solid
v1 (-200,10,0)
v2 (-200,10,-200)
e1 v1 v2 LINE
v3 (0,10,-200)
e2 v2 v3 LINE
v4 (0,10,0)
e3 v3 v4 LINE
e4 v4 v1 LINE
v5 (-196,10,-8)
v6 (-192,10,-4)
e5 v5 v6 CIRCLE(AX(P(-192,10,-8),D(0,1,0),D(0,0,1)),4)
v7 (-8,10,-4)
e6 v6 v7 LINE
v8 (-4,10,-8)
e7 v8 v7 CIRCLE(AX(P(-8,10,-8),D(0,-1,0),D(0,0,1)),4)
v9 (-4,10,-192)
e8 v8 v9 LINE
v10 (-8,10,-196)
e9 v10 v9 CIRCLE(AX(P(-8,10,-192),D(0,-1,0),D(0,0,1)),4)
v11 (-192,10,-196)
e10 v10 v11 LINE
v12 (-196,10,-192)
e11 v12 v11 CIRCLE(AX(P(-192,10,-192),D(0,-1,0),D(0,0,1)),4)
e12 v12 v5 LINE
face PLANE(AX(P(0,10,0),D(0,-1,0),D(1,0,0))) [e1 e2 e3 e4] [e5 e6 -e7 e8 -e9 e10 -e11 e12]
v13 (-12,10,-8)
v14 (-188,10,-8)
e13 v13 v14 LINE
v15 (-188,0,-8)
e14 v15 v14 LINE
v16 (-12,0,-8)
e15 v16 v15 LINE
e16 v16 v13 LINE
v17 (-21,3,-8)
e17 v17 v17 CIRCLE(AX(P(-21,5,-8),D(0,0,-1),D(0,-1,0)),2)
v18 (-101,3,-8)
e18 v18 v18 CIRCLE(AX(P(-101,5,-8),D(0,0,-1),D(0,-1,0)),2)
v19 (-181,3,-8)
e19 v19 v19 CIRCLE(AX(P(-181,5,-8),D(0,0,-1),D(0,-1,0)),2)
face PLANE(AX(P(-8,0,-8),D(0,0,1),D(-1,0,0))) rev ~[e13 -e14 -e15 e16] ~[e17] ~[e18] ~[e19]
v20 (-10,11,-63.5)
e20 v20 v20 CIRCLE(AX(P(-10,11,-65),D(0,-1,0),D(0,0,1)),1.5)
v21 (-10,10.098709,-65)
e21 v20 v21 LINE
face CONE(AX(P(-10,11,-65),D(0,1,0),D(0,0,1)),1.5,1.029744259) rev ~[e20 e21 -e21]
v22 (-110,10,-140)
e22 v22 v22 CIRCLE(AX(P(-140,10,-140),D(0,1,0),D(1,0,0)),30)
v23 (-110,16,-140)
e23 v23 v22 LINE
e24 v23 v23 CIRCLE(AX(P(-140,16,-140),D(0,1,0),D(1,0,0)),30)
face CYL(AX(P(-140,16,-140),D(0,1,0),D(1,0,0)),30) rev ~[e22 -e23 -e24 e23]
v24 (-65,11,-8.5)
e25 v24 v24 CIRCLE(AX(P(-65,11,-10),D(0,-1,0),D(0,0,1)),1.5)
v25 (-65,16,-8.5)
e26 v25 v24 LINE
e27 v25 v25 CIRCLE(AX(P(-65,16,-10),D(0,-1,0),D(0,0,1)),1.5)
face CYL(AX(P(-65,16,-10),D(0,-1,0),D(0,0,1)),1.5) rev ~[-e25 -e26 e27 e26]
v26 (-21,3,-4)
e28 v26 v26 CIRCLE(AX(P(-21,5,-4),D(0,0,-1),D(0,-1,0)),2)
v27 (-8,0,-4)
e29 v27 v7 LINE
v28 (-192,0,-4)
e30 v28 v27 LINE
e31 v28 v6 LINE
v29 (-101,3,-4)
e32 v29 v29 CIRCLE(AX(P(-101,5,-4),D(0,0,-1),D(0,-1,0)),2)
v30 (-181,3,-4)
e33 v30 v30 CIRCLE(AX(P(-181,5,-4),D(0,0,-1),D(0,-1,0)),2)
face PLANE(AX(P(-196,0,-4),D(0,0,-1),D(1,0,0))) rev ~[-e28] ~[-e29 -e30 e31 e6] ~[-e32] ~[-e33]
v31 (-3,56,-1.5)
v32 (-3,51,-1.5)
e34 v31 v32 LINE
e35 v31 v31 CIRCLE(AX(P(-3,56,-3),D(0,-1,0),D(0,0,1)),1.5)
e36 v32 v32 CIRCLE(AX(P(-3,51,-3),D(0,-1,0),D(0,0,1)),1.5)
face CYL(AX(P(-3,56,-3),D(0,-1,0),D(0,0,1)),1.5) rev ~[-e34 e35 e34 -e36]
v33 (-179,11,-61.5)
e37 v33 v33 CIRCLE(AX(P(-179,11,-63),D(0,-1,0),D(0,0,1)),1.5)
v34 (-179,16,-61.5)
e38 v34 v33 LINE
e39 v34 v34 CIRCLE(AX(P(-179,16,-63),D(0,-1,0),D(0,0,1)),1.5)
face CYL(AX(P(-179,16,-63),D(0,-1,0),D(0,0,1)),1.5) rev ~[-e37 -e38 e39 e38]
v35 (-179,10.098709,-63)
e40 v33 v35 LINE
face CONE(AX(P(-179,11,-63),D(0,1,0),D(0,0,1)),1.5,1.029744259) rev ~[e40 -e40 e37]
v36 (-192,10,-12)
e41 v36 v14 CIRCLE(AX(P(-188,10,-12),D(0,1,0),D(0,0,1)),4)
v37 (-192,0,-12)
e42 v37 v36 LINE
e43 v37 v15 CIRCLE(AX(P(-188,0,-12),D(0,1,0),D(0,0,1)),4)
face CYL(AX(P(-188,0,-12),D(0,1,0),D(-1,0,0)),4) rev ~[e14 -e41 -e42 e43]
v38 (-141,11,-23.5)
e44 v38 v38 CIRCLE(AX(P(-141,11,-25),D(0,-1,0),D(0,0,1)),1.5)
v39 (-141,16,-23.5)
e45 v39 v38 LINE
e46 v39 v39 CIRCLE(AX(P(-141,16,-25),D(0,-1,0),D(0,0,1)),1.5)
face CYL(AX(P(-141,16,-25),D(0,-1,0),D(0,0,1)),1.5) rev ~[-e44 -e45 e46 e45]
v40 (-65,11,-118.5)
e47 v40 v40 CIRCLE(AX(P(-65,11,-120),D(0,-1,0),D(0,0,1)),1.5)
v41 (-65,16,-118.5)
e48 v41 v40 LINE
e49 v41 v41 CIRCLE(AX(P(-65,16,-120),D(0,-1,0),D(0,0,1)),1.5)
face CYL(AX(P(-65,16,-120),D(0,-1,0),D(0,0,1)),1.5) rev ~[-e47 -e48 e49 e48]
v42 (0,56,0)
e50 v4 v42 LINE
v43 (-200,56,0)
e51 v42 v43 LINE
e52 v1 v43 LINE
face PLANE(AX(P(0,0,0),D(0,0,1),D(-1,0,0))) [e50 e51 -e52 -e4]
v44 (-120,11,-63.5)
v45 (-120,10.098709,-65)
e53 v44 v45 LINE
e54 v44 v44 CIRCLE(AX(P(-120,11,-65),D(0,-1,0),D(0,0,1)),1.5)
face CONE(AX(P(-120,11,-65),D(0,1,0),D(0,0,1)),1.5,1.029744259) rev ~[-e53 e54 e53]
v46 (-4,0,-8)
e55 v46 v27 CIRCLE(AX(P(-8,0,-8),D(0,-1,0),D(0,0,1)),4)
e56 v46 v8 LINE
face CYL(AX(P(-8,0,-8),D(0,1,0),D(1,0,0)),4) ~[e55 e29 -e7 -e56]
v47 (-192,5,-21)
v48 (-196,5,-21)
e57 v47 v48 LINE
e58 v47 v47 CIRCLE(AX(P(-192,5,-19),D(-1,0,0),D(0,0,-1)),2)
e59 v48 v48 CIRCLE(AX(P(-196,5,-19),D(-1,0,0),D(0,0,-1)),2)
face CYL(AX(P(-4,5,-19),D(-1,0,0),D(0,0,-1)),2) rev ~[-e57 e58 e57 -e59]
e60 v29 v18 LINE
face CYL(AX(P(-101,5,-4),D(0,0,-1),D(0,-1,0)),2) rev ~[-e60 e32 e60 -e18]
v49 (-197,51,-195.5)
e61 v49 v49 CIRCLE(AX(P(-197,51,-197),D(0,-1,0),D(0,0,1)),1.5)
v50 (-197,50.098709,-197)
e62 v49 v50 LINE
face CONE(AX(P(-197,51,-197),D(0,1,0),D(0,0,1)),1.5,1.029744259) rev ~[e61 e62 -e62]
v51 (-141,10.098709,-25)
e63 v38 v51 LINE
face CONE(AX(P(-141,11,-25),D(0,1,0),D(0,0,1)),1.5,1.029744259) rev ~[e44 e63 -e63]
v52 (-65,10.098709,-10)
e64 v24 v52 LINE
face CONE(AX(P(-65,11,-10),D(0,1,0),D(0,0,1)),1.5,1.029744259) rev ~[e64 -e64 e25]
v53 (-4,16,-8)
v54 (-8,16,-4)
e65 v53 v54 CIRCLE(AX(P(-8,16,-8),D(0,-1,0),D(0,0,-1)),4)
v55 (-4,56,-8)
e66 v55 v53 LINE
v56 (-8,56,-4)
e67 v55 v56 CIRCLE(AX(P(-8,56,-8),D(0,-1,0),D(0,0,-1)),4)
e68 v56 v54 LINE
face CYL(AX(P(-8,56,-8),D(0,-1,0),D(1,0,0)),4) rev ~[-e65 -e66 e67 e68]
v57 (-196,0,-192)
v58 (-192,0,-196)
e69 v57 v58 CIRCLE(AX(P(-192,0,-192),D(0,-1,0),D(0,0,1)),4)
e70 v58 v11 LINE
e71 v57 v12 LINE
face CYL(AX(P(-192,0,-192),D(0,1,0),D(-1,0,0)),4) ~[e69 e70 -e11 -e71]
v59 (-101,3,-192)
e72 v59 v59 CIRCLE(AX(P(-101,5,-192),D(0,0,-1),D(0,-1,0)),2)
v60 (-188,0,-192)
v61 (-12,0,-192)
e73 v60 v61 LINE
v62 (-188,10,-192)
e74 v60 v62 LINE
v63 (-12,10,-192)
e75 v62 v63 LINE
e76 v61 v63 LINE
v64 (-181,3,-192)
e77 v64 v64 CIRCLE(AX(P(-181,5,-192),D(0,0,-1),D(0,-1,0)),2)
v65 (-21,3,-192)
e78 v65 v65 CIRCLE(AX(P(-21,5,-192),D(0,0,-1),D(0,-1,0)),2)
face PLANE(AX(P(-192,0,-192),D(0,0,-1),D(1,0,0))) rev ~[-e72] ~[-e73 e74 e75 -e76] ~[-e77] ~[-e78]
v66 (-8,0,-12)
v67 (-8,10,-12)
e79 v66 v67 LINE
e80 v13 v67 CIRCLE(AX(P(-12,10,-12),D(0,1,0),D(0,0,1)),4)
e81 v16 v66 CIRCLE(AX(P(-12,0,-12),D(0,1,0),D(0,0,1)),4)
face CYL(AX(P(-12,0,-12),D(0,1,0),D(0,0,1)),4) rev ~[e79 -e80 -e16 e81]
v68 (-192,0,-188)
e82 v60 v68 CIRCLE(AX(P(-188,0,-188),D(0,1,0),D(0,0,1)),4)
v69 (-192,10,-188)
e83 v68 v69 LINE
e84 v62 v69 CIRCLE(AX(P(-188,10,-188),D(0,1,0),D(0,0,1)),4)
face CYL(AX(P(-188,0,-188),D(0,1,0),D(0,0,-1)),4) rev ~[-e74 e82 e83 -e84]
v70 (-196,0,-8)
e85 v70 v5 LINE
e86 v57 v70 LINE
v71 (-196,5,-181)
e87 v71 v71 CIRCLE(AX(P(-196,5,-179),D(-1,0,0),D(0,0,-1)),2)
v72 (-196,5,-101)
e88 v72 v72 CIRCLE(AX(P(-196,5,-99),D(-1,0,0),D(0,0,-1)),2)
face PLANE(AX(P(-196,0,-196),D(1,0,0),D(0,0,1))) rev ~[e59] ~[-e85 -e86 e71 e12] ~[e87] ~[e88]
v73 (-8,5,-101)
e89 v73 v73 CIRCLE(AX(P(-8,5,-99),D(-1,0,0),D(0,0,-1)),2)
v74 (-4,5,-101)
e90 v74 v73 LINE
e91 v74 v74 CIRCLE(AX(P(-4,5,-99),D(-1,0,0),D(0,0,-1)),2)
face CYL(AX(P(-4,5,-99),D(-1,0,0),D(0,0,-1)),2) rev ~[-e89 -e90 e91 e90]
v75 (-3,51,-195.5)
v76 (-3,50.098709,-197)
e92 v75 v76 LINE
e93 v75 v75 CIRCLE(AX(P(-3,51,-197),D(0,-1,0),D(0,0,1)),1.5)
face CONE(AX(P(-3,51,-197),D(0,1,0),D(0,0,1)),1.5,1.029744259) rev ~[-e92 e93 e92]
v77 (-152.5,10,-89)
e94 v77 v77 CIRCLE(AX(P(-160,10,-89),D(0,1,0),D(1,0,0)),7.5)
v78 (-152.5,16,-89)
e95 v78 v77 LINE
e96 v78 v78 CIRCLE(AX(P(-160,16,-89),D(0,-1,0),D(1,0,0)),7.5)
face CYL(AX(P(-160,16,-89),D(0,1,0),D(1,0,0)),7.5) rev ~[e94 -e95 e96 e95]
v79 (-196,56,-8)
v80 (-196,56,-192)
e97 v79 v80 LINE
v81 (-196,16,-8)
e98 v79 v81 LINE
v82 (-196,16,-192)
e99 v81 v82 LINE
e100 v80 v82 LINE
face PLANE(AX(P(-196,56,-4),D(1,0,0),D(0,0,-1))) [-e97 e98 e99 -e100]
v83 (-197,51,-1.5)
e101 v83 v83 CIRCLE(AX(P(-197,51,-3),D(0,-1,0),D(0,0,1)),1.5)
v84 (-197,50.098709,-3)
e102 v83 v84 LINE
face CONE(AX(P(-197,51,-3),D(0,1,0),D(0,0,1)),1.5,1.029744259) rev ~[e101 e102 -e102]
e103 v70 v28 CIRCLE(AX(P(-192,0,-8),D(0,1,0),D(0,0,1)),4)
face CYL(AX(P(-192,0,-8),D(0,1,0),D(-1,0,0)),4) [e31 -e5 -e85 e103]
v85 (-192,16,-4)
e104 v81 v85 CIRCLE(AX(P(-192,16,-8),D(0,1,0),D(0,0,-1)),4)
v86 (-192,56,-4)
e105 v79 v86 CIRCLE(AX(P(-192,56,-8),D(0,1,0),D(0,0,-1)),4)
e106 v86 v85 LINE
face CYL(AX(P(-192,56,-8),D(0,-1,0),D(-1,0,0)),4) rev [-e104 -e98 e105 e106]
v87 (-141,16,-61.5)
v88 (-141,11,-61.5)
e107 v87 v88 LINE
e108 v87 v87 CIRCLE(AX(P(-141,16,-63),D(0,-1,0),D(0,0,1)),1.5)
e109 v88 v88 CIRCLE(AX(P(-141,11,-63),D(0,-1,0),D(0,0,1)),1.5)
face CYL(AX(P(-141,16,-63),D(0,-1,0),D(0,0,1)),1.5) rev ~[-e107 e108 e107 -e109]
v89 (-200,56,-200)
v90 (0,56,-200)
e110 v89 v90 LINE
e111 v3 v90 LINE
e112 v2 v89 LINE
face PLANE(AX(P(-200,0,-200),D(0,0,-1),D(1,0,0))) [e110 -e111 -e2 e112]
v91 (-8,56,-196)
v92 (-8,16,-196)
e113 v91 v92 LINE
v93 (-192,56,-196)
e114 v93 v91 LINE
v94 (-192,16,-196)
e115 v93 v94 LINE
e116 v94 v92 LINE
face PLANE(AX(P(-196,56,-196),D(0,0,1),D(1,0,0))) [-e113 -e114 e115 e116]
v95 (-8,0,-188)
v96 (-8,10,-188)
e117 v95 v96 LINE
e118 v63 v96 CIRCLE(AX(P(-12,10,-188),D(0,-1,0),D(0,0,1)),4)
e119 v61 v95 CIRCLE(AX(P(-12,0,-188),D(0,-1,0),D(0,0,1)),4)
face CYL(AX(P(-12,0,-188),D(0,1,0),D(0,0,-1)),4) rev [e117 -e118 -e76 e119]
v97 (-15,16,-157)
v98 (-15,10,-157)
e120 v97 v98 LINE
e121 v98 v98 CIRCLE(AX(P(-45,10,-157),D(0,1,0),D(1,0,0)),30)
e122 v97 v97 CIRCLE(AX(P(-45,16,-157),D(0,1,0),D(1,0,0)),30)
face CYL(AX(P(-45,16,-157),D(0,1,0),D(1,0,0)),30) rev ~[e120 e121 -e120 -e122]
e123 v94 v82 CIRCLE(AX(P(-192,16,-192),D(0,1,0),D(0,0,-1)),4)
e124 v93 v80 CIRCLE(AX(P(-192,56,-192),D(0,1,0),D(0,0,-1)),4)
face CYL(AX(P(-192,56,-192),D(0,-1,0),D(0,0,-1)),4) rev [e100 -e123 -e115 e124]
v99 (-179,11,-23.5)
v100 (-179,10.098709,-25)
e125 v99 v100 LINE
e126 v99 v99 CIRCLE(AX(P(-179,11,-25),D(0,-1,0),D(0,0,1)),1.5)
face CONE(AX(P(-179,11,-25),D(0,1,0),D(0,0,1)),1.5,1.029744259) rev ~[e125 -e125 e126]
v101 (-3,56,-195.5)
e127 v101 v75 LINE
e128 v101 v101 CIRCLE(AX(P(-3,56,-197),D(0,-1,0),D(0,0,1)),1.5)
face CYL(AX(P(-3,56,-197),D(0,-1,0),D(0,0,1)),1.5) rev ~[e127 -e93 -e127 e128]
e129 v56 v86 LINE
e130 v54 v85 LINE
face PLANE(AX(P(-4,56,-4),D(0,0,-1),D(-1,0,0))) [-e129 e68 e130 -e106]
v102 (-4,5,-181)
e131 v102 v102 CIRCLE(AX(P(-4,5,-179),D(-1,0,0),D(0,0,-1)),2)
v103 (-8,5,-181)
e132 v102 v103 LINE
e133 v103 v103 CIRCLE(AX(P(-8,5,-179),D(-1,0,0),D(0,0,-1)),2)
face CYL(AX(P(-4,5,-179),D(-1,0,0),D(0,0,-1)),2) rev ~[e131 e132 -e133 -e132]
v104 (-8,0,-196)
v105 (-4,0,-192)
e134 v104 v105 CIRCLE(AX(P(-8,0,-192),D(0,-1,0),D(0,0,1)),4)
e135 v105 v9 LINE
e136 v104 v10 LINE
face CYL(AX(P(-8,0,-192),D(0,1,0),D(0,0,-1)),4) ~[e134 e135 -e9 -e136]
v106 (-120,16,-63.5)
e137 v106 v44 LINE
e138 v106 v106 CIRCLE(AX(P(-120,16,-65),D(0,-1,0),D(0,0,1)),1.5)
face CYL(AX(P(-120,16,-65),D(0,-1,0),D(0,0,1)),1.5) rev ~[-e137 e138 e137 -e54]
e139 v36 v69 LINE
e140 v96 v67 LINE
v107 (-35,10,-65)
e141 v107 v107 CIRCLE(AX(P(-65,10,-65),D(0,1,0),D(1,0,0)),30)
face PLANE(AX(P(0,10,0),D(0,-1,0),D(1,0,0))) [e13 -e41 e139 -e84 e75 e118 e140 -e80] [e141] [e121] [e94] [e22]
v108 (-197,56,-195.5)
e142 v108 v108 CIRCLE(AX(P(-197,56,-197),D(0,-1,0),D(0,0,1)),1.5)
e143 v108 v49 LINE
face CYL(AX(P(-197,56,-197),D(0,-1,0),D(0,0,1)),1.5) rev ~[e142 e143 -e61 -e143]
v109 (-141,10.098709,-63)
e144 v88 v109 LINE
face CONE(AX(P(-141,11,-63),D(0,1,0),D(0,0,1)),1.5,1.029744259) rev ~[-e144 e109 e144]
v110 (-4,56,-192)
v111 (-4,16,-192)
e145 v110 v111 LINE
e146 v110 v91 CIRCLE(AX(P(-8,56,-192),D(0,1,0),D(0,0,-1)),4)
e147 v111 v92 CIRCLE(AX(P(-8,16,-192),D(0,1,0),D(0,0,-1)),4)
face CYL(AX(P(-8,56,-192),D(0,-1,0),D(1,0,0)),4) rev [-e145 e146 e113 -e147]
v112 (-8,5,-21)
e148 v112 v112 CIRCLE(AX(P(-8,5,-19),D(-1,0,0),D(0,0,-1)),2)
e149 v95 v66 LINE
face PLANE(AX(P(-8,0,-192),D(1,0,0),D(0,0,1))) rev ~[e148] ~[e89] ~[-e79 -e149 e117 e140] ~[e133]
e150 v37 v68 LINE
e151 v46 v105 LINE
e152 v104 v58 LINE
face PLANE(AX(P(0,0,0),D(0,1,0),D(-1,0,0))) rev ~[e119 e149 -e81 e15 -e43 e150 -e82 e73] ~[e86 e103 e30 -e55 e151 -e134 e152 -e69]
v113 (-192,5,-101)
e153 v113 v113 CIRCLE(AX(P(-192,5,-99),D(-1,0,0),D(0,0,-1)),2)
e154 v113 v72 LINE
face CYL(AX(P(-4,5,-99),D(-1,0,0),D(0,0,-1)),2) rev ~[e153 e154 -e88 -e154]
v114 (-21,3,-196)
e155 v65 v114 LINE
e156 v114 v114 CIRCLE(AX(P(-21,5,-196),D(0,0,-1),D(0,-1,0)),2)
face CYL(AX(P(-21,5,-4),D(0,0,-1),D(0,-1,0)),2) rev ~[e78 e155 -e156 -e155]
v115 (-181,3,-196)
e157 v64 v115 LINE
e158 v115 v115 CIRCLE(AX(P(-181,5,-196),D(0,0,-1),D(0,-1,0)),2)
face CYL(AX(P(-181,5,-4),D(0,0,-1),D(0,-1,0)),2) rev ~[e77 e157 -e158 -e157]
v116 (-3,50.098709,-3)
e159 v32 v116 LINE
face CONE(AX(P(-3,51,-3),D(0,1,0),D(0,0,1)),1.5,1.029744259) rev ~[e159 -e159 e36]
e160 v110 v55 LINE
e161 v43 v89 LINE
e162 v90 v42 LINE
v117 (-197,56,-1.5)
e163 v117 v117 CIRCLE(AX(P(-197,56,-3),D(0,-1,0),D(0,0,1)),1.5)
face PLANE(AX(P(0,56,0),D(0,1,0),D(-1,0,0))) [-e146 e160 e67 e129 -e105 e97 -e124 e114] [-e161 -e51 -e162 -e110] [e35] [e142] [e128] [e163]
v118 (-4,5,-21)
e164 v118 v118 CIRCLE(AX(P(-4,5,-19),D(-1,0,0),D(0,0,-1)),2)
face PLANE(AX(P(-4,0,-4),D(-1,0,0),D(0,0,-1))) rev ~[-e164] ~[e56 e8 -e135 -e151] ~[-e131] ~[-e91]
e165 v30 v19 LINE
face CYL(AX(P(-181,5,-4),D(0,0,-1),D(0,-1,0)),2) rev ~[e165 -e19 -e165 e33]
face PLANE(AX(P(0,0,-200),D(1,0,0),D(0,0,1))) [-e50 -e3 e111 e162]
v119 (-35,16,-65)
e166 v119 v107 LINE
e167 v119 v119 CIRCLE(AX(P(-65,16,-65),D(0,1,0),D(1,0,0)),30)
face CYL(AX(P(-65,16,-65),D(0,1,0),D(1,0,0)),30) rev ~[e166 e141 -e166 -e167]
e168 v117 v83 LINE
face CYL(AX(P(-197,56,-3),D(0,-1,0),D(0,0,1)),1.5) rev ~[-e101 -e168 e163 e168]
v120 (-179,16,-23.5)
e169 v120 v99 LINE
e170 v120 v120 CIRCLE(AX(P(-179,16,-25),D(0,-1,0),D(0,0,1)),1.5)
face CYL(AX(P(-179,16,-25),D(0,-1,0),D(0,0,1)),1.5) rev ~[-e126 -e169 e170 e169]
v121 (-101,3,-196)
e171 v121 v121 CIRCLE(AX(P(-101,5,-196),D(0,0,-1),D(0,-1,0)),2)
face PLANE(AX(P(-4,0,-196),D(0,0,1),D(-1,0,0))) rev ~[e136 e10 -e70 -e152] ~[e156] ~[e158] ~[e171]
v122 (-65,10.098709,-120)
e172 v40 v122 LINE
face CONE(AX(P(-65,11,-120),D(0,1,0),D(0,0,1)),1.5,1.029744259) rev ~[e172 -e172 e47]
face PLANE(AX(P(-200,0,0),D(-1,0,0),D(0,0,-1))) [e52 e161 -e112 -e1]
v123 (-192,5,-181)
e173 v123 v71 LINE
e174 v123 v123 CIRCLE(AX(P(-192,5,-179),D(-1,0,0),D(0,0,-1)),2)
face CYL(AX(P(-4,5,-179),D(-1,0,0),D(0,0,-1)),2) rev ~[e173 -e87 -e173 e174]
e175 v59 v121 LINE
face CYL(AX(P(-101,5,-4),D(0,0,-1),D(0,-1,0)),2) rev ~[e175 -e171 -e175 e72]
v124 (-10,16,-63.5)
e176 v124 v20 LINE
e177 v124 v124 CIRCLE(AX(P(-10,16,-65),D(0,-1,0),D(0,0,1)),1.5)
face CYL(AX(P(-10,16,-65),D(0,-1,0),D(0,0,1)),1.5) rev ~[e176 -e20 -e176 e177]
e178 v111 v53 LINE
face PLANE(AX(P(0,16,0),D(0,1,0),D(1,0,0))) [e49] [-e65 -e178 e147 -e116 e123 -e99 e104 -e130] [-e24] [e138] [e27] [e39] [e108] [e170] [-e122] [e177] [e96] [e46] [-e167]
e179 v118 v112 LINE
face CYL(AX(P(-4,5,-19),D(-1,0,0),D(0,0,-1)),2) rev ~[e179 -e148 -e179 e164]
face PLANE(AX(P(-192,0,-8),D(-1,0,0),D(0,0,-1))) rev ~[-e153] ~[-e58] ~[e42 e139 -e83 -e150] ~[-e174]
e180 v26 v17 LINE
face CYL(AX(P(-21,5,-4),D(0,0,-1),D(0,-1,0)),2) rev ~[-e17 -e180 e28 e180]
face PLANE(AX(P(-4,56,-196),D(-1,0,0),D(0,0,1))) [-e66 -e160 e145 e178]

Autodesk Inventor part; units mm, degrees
ref_plane "YZ Plane" through (0, 0, 0) normal (1, 0, 0) x (0, 1, 0)
ref_plane "XZ Plane" through (0, 0, 0) normal (0, 1, 0) x (-1, 0, 0)
ref_plane "XY Plane" through (0, 0, 0) normal (0, 0, 1) x (1, 0, 0)
sketch "Sketch1" plane through (0, 0, 0) normal (0, 1, 0) x (-1, 0, 0)
  line L0 (0, 0) -> (200, 0)
  line L1 (200, 0) -> (200, -200)
  line L2 (200, -200) -> (0, -200)
  line L3 (0, -200) -> (0, 0)
  dimension "d0" = 200
  dimension "d1" = 200
extrude "Extrusion1" add sketch "Sketch1" along normal blind 56
sketch "Sketch2" plane through (0, 56, 0) normal (0, 1, 0) x (1, 0, 0)
  line L0 (-4, 4) -> (-196, 4)
  line L1 (-196, 4) -> (-196, 196)
  line L2 (-196, 196) -> (-4, 196)
  line L3 (-4, 196) -> (-4, 4)
  line L4 (0, 0) -> (0, 200) projected
  line L5 (-200, 0) -> (0, 0) projected
  dimension "d4" = 192
  dimension "d5" = 192
  dimension "d6" = 4
  dimension "d7" = 4
extrude "Extrusion2" cut sketch "Sketch2" against normal blind 40
sketch "Sketch3" plane through (0, 0, 0) normal (0, -1, 0) x (1, 0, 0)
  line L0 (-196, -4) -> (-4, -4)
  line L1 (-4, -4) -> (-4, -196)
  line L2 (-4, -196) -> (-196, -196)
  line L3 (-196, -196) -> (-196, -4)
  line L4 (-200, 0) -> (-200, -200) projected
  line L5 (0, 0) -> (-200, 0) projected
  line L6 (0, 0) -> (-200, 0) projected
  line L7 (-200, 0) -> (-200, -200) projected
  line L8 (-200, -200) -> (0, -200) projected
  line L9 (0, -200) -> (0, 0) projected
  line L10 (-8, -8) -> (-192, -8)
  line L11 (-192, -8) -> (-192, -192)
  line L12 (-192, -192) -> (-8, -192)
  line L13 (-8, -192) -> (-8, -8)
  dimension "d10" = 192
  dimension "d11" = 192
  dimension "d12" = 4
  dimension "d13" = 4
  dimension "d16" = 4
extrude "Extrusion3" cut sketch "Sketch3" against normal blind 10
fillet "Fillet1" radius 4 12 edges at (-196, 36, -196) (-196, 36, -4) (-4, 36, -196) (-4, 36, -4) (-4, 5, -4) (-4, 5, -196) (-196, 5, -196) (-196, 5, -4) (-8, 5, -192) (-8, 5, -8) (-192, 5, -192) (-192, 5, -8)
sketch "Sketch8" plane through (0, 16, 0) normal (0, 1, 0) x (1, 0, 0)
  circle A0 centre (-65, 65) radius 40
  line L0 (0, 0) -> (0, 200)
  line L1 (-200, 0) -> (0, 0)
  circle A1 centre (-140, 140) radius 37.5
  line L2 (0, 200) -> (-200, 200)
  line L3 (-200, 200) -> (-200, 0)
  circle A2 centre (-140, 140) radius 55
  line L4 (-185, 78) -> (-135, 78)
  line L5 (-135, 78) -> (-135, 10)
  line L6 (-135, 10) -> (-185, 10)
  line L7 (-185, 10) -> (-185, 78)
  circle A3 centre (-65, 65) radius 50
  circle A4 centre (-65, 65) radius 60
  line L8 (-185, 19) -> (-135, 19)
  line L9 (-135, 19) -> (-135, 69)
  line L10 (-135, 69) -> (-185, 69)
  line L11 (-185, 69) -> (-185, 19)
  circle A5 centre (-140, 140) radius 30
  circle A6 centre (-45, 157) radius 30
  circle A7 centre (-65, 65) radius 30
  circle A8 centre (-160, 89) radius 7.5
  line L12 (0, 0) -> (0, 200) projected
  line L13 (-200, 0) -> (0, 0) projected
  dimension "d152" = 80
  dimension "d153" = 65
  dimension "d154" = 65
  dimension "d155" = 75
  dimension "d156" = 140
  dimension "d157" = 140
  dimension "d158" = 110
  dimension "d159" = 50
  dimension "d160" = 68
  dimension "d161" = 10
  dimension "d162" = 100
  dimension "d163" = 120
  dimension "d164" = 135
  dimension "d165" = 50
  dimension "d166" = 50
  dimension "d167" = 9
  dimension "d168" = 60
  dimension "d169" = 60
  dimension "d170" = 60
  dimension "d171" = 15
  dimension "d172" = 20
  dimension "d173" = 25
  dimension "d174" = 45
  dimension "d175" = 157
extrude "Extrusion4" cut sketch "Sketch8" against normal through all contours A8 A2 | A2 A8 | A5 | A6 | A7
sketch "Sketch4" plane through (0, 56, 0) normal (0, 1, 0) x (1, 0, 0)
  circle A0 centre (-197, 197) radius 1.5
  line L0 (0, 200) -> (-200, 200) projected
  line L1 (-200, 200) -> (-200, 0) projected
  circle A1 centre (-197, 3) radius 1.5
  line L2 (-200, 0) -> (0, 0) projected
  circle A2 centre (-3, 197) radius 1.5
  line L3 (0, 0) -> (0, 200) projected
  circle A3 centre (-3, 3) radius 1.5
  dimension "d18" = 3
  dimension "d19" = 3
  dimension "d20" = 3
  dimension "d21" = 3
  dimension "d22" = 3
  dimension "d23" = 3
  dimension "d24" = 3
  dimension "d25" = 3
  dimension "d26" = 3
  dimension "d27" = 3
  dimension "d28" = 3
  dimension "d29" = 3
hole "Hole1" at (-197, 56, -3) at (-197, 56, -197) at (-3, 56, -197) at (-3, 56, -3) direction (0, -1, 0) diameter 3 depth 5 tip angle 118
sketch "Sketch5" plane through (-4, 0, -8) normal (1, 0, 0) x (0, 0, -1)
  circle A0 centre (11, 5) radius 2
  line L0 (184, 0) -> (0, 0) projected
  circle A1 centre (91, 5) radius 2
  circle A2 centre (171, 5) radius 2
  line L1 (-4, 10) -> (-4, 0) projected
  line L2 (-4, 0) -> (-4, 10) projected
  line L3 (-4, 10) -> (-4, 0) projected
  line L4 (0, 0) -> (0, 10) projected
  dimension "d37" = 4
  dimension "d38" = 5
  dimension "d42" = 80
  dimension "d54" = 11
hole "Hole2" at (-4, 5, -19) at (-4, 5, -99) at (-4, 5, -179) direction (-1, 0, 0) diameter 4 end through all
sketch "Sketch6" plane through (-192, 0, -4) normal (0, 0, 1) x (1, 0, 0)
  circle A0 centre (11, 5) radius 2
  line L0 (182, 0) -> (0, 0)
  line L1 (-4, 0) -> (-4, 10)
  circle A1 centre (91, 5) radius 2
  circle A2 centre (171, 5) radius 2
  line L2 (-4, 10) -> (-4, 0)
  line L3 (-4, 0) -> (-4, 10)
  line L4 (-4, 10) -> (-4, 0)
  line L5 (0, 0) -> (0, 10)
  point P0 (192, 0)
  point P1 (186, 0)
  dimension "d59" = 4
  dimension "d60" = 5
  dimension "d61" = 80
  dimension "d62" = 11
hole "Hole3" at (-181, 5, -4) at (-101, 5, -4) at (-21, 5, -4) direction (0, 0, -1) diameter 4 end through all
sketch "Sketch7" plane through (0, 16, 0) normal (0, 1, 0) x (1, 0, 0)
  line L0 (-200, 200) -> (-200, 0) projected
  line L1 (-200, 0) -> (0, 0) projected
  line L2 (-185, 78) -> (-135, 78)
  line L3 (-135, 78) -> (-135, 10)
  line L4 (-135, 10) -> (-185, 10)
  line L5 (-185, 10) -> (-185, 78)
  line L6 (0, 0) -> (0, 200) projected
  line L7 (-185, 78) -> (-173, 78)
  line L8 (-173, 78) -> (-173, 10)
  line L9 (-173, 10) -> (-185, 10)
  line L10 (-185, 10) -> (-185, 78)
  line L11 (-135, 78) -> (-147, 78)
  line L12 (-147, 78) -> (-147, 10)
  line L13 (-147, 10) -> (-135, 10)
  line L14 (-135, 10) -> (-135, 78)
  circle A0 centre (-179, 63) radius 2
  circle A1 centre (-179, 25) radius 2
  circle A2 centre (-141, 63) radius 2
  circle A3 centre (-141, 25) radius 2
  circle A4 centre (-65, 65) radius 60
  circle A5 centre (-65, 65) radius 55
  circle A6 centre (-65, 120) radius 2
  circle A7 centre (-120, 65) radius 2
  circle A8 centre (-65, 10) radius 2
  circle A9 centre (-10, 65) radius 2
  dimension "d106" = 110
  dimension "d74" = 50
  dimension "d75" = 68
  dimension "d76" = 10
  dimension "d79" = 135
  dimension "d80" = 12
  dimension "d81" = 68
  dimension "d82" = 12
  dimension "d83" = 68
  dimension "d84" = 4
  dimension "d85" = 4
  dimension "d86" = 4
  dimension "d87" = 4
  dimension "d88" = 15
  dimension "d89" = 15
  dimension "d90" = 15
  dimension "d91" = 15
  dimension "d92" = 6
  dimension "d93" = 6
  dimension "d94" = 6
  dimension "d95" = 6
  dimension "d103" = 120
  dimension "d104" = 65
  dimension "d105" = 65
  dimension "d107" = 4
  dimension "d110" = 360
hole "Hole4" at (-179, 16, -63) at (-141, 16, -63) at (-179, 16, -25) at (-141, 16, -25) at (-65, 16, -120) at (-120, 16, -65) at (-65, 16, -10) at (-10, 16, -65) direction (0, -1, 0) diameter 3 depth 5 tip angle 118
thread "Thread1" size "M3x0.5" class "6H" standard "ANSI Metric M Profile" full length
thread "Thread2" size "M3x0.5" class "6H" standard "ANSI Metric M Profile" full length
thread "Thread3" size "M3x0.5" class "6H" standard "ANSI Metric M Profile" full length
thread "Thread4" size "M3x0.5" class "6H" standard "ANSI Metric M Profile" full length
thread "Thread5" size "M3x0.5" class "6H" standard "ANSI Metric M Profile" full length
thread "Thread6" size "M3x0.5" class "6H" standard "ANSI Metric M Profile" full length
thread "Thread7" size "M3x0.5" class "6H" standard "ANSI Metric M Profile" full length
thread "Thread8" size "M3x0.5" class "6H" standard "ANSI Metric M Profile" full length
thread "Thread9" size "M4x0.7" class "6H" standard "ANSI Metric M Profile" full length
thread "Thread10" size "M4x0.7" class "6H" standard "ANSI Metric M Profile" full length
thread "Thread11" size "M4x0.7" class "6H" standard "ANSI Metric M Profile" full length
thread "Thread12" size "M4x0.7" class "6H" standard "ANSI Metric M Profile" full length
thread "Thread13" size "M4x0.7" class "6H" standard "ANSI Metric M Profile" full length
thread "Thread14" size "M4x0.7" class "6H" standard "ANSI Metric M Profile" full length
thread "Thread15" size "M4x0.7" class "6H" standard "ANSI Metric M Profile" full length
thread "Thread16" size "M4x0.7" class "6H" standard "ANSI Metric M Profile" full length
thread "Thread17" size "M4x0.7" class "6H" standard "ANSI Metric M Profile" full length
thread "Thread18" size "M4x0.7" class "6H" standard "ANSI Metric M Profile" full length
thread "Thread19" size "M4x0.7" class "6H" standard "ANSI Metric M Profile" full length
thread "Thread20" size "M4x0.7" class "6H" standard "ANSI Metric M Profile" full length
thread "Thread21" size "M3x0.5" class "6H" standard "ANSI Metric M Profile" full length
thread "Thread22" size "M3x0.5" class "6H" standard "ANSI Metric M Profile" full length
thread "Thread23" size "M3x0.5" class "6H" standard "ANSI Metric M Profile" full length
thread "Thread24" size "M3x0.5" class "6H" standard "ANSI Metric M Profile" full length
properties part number "Housing_top" material "Aluminum 6061"
